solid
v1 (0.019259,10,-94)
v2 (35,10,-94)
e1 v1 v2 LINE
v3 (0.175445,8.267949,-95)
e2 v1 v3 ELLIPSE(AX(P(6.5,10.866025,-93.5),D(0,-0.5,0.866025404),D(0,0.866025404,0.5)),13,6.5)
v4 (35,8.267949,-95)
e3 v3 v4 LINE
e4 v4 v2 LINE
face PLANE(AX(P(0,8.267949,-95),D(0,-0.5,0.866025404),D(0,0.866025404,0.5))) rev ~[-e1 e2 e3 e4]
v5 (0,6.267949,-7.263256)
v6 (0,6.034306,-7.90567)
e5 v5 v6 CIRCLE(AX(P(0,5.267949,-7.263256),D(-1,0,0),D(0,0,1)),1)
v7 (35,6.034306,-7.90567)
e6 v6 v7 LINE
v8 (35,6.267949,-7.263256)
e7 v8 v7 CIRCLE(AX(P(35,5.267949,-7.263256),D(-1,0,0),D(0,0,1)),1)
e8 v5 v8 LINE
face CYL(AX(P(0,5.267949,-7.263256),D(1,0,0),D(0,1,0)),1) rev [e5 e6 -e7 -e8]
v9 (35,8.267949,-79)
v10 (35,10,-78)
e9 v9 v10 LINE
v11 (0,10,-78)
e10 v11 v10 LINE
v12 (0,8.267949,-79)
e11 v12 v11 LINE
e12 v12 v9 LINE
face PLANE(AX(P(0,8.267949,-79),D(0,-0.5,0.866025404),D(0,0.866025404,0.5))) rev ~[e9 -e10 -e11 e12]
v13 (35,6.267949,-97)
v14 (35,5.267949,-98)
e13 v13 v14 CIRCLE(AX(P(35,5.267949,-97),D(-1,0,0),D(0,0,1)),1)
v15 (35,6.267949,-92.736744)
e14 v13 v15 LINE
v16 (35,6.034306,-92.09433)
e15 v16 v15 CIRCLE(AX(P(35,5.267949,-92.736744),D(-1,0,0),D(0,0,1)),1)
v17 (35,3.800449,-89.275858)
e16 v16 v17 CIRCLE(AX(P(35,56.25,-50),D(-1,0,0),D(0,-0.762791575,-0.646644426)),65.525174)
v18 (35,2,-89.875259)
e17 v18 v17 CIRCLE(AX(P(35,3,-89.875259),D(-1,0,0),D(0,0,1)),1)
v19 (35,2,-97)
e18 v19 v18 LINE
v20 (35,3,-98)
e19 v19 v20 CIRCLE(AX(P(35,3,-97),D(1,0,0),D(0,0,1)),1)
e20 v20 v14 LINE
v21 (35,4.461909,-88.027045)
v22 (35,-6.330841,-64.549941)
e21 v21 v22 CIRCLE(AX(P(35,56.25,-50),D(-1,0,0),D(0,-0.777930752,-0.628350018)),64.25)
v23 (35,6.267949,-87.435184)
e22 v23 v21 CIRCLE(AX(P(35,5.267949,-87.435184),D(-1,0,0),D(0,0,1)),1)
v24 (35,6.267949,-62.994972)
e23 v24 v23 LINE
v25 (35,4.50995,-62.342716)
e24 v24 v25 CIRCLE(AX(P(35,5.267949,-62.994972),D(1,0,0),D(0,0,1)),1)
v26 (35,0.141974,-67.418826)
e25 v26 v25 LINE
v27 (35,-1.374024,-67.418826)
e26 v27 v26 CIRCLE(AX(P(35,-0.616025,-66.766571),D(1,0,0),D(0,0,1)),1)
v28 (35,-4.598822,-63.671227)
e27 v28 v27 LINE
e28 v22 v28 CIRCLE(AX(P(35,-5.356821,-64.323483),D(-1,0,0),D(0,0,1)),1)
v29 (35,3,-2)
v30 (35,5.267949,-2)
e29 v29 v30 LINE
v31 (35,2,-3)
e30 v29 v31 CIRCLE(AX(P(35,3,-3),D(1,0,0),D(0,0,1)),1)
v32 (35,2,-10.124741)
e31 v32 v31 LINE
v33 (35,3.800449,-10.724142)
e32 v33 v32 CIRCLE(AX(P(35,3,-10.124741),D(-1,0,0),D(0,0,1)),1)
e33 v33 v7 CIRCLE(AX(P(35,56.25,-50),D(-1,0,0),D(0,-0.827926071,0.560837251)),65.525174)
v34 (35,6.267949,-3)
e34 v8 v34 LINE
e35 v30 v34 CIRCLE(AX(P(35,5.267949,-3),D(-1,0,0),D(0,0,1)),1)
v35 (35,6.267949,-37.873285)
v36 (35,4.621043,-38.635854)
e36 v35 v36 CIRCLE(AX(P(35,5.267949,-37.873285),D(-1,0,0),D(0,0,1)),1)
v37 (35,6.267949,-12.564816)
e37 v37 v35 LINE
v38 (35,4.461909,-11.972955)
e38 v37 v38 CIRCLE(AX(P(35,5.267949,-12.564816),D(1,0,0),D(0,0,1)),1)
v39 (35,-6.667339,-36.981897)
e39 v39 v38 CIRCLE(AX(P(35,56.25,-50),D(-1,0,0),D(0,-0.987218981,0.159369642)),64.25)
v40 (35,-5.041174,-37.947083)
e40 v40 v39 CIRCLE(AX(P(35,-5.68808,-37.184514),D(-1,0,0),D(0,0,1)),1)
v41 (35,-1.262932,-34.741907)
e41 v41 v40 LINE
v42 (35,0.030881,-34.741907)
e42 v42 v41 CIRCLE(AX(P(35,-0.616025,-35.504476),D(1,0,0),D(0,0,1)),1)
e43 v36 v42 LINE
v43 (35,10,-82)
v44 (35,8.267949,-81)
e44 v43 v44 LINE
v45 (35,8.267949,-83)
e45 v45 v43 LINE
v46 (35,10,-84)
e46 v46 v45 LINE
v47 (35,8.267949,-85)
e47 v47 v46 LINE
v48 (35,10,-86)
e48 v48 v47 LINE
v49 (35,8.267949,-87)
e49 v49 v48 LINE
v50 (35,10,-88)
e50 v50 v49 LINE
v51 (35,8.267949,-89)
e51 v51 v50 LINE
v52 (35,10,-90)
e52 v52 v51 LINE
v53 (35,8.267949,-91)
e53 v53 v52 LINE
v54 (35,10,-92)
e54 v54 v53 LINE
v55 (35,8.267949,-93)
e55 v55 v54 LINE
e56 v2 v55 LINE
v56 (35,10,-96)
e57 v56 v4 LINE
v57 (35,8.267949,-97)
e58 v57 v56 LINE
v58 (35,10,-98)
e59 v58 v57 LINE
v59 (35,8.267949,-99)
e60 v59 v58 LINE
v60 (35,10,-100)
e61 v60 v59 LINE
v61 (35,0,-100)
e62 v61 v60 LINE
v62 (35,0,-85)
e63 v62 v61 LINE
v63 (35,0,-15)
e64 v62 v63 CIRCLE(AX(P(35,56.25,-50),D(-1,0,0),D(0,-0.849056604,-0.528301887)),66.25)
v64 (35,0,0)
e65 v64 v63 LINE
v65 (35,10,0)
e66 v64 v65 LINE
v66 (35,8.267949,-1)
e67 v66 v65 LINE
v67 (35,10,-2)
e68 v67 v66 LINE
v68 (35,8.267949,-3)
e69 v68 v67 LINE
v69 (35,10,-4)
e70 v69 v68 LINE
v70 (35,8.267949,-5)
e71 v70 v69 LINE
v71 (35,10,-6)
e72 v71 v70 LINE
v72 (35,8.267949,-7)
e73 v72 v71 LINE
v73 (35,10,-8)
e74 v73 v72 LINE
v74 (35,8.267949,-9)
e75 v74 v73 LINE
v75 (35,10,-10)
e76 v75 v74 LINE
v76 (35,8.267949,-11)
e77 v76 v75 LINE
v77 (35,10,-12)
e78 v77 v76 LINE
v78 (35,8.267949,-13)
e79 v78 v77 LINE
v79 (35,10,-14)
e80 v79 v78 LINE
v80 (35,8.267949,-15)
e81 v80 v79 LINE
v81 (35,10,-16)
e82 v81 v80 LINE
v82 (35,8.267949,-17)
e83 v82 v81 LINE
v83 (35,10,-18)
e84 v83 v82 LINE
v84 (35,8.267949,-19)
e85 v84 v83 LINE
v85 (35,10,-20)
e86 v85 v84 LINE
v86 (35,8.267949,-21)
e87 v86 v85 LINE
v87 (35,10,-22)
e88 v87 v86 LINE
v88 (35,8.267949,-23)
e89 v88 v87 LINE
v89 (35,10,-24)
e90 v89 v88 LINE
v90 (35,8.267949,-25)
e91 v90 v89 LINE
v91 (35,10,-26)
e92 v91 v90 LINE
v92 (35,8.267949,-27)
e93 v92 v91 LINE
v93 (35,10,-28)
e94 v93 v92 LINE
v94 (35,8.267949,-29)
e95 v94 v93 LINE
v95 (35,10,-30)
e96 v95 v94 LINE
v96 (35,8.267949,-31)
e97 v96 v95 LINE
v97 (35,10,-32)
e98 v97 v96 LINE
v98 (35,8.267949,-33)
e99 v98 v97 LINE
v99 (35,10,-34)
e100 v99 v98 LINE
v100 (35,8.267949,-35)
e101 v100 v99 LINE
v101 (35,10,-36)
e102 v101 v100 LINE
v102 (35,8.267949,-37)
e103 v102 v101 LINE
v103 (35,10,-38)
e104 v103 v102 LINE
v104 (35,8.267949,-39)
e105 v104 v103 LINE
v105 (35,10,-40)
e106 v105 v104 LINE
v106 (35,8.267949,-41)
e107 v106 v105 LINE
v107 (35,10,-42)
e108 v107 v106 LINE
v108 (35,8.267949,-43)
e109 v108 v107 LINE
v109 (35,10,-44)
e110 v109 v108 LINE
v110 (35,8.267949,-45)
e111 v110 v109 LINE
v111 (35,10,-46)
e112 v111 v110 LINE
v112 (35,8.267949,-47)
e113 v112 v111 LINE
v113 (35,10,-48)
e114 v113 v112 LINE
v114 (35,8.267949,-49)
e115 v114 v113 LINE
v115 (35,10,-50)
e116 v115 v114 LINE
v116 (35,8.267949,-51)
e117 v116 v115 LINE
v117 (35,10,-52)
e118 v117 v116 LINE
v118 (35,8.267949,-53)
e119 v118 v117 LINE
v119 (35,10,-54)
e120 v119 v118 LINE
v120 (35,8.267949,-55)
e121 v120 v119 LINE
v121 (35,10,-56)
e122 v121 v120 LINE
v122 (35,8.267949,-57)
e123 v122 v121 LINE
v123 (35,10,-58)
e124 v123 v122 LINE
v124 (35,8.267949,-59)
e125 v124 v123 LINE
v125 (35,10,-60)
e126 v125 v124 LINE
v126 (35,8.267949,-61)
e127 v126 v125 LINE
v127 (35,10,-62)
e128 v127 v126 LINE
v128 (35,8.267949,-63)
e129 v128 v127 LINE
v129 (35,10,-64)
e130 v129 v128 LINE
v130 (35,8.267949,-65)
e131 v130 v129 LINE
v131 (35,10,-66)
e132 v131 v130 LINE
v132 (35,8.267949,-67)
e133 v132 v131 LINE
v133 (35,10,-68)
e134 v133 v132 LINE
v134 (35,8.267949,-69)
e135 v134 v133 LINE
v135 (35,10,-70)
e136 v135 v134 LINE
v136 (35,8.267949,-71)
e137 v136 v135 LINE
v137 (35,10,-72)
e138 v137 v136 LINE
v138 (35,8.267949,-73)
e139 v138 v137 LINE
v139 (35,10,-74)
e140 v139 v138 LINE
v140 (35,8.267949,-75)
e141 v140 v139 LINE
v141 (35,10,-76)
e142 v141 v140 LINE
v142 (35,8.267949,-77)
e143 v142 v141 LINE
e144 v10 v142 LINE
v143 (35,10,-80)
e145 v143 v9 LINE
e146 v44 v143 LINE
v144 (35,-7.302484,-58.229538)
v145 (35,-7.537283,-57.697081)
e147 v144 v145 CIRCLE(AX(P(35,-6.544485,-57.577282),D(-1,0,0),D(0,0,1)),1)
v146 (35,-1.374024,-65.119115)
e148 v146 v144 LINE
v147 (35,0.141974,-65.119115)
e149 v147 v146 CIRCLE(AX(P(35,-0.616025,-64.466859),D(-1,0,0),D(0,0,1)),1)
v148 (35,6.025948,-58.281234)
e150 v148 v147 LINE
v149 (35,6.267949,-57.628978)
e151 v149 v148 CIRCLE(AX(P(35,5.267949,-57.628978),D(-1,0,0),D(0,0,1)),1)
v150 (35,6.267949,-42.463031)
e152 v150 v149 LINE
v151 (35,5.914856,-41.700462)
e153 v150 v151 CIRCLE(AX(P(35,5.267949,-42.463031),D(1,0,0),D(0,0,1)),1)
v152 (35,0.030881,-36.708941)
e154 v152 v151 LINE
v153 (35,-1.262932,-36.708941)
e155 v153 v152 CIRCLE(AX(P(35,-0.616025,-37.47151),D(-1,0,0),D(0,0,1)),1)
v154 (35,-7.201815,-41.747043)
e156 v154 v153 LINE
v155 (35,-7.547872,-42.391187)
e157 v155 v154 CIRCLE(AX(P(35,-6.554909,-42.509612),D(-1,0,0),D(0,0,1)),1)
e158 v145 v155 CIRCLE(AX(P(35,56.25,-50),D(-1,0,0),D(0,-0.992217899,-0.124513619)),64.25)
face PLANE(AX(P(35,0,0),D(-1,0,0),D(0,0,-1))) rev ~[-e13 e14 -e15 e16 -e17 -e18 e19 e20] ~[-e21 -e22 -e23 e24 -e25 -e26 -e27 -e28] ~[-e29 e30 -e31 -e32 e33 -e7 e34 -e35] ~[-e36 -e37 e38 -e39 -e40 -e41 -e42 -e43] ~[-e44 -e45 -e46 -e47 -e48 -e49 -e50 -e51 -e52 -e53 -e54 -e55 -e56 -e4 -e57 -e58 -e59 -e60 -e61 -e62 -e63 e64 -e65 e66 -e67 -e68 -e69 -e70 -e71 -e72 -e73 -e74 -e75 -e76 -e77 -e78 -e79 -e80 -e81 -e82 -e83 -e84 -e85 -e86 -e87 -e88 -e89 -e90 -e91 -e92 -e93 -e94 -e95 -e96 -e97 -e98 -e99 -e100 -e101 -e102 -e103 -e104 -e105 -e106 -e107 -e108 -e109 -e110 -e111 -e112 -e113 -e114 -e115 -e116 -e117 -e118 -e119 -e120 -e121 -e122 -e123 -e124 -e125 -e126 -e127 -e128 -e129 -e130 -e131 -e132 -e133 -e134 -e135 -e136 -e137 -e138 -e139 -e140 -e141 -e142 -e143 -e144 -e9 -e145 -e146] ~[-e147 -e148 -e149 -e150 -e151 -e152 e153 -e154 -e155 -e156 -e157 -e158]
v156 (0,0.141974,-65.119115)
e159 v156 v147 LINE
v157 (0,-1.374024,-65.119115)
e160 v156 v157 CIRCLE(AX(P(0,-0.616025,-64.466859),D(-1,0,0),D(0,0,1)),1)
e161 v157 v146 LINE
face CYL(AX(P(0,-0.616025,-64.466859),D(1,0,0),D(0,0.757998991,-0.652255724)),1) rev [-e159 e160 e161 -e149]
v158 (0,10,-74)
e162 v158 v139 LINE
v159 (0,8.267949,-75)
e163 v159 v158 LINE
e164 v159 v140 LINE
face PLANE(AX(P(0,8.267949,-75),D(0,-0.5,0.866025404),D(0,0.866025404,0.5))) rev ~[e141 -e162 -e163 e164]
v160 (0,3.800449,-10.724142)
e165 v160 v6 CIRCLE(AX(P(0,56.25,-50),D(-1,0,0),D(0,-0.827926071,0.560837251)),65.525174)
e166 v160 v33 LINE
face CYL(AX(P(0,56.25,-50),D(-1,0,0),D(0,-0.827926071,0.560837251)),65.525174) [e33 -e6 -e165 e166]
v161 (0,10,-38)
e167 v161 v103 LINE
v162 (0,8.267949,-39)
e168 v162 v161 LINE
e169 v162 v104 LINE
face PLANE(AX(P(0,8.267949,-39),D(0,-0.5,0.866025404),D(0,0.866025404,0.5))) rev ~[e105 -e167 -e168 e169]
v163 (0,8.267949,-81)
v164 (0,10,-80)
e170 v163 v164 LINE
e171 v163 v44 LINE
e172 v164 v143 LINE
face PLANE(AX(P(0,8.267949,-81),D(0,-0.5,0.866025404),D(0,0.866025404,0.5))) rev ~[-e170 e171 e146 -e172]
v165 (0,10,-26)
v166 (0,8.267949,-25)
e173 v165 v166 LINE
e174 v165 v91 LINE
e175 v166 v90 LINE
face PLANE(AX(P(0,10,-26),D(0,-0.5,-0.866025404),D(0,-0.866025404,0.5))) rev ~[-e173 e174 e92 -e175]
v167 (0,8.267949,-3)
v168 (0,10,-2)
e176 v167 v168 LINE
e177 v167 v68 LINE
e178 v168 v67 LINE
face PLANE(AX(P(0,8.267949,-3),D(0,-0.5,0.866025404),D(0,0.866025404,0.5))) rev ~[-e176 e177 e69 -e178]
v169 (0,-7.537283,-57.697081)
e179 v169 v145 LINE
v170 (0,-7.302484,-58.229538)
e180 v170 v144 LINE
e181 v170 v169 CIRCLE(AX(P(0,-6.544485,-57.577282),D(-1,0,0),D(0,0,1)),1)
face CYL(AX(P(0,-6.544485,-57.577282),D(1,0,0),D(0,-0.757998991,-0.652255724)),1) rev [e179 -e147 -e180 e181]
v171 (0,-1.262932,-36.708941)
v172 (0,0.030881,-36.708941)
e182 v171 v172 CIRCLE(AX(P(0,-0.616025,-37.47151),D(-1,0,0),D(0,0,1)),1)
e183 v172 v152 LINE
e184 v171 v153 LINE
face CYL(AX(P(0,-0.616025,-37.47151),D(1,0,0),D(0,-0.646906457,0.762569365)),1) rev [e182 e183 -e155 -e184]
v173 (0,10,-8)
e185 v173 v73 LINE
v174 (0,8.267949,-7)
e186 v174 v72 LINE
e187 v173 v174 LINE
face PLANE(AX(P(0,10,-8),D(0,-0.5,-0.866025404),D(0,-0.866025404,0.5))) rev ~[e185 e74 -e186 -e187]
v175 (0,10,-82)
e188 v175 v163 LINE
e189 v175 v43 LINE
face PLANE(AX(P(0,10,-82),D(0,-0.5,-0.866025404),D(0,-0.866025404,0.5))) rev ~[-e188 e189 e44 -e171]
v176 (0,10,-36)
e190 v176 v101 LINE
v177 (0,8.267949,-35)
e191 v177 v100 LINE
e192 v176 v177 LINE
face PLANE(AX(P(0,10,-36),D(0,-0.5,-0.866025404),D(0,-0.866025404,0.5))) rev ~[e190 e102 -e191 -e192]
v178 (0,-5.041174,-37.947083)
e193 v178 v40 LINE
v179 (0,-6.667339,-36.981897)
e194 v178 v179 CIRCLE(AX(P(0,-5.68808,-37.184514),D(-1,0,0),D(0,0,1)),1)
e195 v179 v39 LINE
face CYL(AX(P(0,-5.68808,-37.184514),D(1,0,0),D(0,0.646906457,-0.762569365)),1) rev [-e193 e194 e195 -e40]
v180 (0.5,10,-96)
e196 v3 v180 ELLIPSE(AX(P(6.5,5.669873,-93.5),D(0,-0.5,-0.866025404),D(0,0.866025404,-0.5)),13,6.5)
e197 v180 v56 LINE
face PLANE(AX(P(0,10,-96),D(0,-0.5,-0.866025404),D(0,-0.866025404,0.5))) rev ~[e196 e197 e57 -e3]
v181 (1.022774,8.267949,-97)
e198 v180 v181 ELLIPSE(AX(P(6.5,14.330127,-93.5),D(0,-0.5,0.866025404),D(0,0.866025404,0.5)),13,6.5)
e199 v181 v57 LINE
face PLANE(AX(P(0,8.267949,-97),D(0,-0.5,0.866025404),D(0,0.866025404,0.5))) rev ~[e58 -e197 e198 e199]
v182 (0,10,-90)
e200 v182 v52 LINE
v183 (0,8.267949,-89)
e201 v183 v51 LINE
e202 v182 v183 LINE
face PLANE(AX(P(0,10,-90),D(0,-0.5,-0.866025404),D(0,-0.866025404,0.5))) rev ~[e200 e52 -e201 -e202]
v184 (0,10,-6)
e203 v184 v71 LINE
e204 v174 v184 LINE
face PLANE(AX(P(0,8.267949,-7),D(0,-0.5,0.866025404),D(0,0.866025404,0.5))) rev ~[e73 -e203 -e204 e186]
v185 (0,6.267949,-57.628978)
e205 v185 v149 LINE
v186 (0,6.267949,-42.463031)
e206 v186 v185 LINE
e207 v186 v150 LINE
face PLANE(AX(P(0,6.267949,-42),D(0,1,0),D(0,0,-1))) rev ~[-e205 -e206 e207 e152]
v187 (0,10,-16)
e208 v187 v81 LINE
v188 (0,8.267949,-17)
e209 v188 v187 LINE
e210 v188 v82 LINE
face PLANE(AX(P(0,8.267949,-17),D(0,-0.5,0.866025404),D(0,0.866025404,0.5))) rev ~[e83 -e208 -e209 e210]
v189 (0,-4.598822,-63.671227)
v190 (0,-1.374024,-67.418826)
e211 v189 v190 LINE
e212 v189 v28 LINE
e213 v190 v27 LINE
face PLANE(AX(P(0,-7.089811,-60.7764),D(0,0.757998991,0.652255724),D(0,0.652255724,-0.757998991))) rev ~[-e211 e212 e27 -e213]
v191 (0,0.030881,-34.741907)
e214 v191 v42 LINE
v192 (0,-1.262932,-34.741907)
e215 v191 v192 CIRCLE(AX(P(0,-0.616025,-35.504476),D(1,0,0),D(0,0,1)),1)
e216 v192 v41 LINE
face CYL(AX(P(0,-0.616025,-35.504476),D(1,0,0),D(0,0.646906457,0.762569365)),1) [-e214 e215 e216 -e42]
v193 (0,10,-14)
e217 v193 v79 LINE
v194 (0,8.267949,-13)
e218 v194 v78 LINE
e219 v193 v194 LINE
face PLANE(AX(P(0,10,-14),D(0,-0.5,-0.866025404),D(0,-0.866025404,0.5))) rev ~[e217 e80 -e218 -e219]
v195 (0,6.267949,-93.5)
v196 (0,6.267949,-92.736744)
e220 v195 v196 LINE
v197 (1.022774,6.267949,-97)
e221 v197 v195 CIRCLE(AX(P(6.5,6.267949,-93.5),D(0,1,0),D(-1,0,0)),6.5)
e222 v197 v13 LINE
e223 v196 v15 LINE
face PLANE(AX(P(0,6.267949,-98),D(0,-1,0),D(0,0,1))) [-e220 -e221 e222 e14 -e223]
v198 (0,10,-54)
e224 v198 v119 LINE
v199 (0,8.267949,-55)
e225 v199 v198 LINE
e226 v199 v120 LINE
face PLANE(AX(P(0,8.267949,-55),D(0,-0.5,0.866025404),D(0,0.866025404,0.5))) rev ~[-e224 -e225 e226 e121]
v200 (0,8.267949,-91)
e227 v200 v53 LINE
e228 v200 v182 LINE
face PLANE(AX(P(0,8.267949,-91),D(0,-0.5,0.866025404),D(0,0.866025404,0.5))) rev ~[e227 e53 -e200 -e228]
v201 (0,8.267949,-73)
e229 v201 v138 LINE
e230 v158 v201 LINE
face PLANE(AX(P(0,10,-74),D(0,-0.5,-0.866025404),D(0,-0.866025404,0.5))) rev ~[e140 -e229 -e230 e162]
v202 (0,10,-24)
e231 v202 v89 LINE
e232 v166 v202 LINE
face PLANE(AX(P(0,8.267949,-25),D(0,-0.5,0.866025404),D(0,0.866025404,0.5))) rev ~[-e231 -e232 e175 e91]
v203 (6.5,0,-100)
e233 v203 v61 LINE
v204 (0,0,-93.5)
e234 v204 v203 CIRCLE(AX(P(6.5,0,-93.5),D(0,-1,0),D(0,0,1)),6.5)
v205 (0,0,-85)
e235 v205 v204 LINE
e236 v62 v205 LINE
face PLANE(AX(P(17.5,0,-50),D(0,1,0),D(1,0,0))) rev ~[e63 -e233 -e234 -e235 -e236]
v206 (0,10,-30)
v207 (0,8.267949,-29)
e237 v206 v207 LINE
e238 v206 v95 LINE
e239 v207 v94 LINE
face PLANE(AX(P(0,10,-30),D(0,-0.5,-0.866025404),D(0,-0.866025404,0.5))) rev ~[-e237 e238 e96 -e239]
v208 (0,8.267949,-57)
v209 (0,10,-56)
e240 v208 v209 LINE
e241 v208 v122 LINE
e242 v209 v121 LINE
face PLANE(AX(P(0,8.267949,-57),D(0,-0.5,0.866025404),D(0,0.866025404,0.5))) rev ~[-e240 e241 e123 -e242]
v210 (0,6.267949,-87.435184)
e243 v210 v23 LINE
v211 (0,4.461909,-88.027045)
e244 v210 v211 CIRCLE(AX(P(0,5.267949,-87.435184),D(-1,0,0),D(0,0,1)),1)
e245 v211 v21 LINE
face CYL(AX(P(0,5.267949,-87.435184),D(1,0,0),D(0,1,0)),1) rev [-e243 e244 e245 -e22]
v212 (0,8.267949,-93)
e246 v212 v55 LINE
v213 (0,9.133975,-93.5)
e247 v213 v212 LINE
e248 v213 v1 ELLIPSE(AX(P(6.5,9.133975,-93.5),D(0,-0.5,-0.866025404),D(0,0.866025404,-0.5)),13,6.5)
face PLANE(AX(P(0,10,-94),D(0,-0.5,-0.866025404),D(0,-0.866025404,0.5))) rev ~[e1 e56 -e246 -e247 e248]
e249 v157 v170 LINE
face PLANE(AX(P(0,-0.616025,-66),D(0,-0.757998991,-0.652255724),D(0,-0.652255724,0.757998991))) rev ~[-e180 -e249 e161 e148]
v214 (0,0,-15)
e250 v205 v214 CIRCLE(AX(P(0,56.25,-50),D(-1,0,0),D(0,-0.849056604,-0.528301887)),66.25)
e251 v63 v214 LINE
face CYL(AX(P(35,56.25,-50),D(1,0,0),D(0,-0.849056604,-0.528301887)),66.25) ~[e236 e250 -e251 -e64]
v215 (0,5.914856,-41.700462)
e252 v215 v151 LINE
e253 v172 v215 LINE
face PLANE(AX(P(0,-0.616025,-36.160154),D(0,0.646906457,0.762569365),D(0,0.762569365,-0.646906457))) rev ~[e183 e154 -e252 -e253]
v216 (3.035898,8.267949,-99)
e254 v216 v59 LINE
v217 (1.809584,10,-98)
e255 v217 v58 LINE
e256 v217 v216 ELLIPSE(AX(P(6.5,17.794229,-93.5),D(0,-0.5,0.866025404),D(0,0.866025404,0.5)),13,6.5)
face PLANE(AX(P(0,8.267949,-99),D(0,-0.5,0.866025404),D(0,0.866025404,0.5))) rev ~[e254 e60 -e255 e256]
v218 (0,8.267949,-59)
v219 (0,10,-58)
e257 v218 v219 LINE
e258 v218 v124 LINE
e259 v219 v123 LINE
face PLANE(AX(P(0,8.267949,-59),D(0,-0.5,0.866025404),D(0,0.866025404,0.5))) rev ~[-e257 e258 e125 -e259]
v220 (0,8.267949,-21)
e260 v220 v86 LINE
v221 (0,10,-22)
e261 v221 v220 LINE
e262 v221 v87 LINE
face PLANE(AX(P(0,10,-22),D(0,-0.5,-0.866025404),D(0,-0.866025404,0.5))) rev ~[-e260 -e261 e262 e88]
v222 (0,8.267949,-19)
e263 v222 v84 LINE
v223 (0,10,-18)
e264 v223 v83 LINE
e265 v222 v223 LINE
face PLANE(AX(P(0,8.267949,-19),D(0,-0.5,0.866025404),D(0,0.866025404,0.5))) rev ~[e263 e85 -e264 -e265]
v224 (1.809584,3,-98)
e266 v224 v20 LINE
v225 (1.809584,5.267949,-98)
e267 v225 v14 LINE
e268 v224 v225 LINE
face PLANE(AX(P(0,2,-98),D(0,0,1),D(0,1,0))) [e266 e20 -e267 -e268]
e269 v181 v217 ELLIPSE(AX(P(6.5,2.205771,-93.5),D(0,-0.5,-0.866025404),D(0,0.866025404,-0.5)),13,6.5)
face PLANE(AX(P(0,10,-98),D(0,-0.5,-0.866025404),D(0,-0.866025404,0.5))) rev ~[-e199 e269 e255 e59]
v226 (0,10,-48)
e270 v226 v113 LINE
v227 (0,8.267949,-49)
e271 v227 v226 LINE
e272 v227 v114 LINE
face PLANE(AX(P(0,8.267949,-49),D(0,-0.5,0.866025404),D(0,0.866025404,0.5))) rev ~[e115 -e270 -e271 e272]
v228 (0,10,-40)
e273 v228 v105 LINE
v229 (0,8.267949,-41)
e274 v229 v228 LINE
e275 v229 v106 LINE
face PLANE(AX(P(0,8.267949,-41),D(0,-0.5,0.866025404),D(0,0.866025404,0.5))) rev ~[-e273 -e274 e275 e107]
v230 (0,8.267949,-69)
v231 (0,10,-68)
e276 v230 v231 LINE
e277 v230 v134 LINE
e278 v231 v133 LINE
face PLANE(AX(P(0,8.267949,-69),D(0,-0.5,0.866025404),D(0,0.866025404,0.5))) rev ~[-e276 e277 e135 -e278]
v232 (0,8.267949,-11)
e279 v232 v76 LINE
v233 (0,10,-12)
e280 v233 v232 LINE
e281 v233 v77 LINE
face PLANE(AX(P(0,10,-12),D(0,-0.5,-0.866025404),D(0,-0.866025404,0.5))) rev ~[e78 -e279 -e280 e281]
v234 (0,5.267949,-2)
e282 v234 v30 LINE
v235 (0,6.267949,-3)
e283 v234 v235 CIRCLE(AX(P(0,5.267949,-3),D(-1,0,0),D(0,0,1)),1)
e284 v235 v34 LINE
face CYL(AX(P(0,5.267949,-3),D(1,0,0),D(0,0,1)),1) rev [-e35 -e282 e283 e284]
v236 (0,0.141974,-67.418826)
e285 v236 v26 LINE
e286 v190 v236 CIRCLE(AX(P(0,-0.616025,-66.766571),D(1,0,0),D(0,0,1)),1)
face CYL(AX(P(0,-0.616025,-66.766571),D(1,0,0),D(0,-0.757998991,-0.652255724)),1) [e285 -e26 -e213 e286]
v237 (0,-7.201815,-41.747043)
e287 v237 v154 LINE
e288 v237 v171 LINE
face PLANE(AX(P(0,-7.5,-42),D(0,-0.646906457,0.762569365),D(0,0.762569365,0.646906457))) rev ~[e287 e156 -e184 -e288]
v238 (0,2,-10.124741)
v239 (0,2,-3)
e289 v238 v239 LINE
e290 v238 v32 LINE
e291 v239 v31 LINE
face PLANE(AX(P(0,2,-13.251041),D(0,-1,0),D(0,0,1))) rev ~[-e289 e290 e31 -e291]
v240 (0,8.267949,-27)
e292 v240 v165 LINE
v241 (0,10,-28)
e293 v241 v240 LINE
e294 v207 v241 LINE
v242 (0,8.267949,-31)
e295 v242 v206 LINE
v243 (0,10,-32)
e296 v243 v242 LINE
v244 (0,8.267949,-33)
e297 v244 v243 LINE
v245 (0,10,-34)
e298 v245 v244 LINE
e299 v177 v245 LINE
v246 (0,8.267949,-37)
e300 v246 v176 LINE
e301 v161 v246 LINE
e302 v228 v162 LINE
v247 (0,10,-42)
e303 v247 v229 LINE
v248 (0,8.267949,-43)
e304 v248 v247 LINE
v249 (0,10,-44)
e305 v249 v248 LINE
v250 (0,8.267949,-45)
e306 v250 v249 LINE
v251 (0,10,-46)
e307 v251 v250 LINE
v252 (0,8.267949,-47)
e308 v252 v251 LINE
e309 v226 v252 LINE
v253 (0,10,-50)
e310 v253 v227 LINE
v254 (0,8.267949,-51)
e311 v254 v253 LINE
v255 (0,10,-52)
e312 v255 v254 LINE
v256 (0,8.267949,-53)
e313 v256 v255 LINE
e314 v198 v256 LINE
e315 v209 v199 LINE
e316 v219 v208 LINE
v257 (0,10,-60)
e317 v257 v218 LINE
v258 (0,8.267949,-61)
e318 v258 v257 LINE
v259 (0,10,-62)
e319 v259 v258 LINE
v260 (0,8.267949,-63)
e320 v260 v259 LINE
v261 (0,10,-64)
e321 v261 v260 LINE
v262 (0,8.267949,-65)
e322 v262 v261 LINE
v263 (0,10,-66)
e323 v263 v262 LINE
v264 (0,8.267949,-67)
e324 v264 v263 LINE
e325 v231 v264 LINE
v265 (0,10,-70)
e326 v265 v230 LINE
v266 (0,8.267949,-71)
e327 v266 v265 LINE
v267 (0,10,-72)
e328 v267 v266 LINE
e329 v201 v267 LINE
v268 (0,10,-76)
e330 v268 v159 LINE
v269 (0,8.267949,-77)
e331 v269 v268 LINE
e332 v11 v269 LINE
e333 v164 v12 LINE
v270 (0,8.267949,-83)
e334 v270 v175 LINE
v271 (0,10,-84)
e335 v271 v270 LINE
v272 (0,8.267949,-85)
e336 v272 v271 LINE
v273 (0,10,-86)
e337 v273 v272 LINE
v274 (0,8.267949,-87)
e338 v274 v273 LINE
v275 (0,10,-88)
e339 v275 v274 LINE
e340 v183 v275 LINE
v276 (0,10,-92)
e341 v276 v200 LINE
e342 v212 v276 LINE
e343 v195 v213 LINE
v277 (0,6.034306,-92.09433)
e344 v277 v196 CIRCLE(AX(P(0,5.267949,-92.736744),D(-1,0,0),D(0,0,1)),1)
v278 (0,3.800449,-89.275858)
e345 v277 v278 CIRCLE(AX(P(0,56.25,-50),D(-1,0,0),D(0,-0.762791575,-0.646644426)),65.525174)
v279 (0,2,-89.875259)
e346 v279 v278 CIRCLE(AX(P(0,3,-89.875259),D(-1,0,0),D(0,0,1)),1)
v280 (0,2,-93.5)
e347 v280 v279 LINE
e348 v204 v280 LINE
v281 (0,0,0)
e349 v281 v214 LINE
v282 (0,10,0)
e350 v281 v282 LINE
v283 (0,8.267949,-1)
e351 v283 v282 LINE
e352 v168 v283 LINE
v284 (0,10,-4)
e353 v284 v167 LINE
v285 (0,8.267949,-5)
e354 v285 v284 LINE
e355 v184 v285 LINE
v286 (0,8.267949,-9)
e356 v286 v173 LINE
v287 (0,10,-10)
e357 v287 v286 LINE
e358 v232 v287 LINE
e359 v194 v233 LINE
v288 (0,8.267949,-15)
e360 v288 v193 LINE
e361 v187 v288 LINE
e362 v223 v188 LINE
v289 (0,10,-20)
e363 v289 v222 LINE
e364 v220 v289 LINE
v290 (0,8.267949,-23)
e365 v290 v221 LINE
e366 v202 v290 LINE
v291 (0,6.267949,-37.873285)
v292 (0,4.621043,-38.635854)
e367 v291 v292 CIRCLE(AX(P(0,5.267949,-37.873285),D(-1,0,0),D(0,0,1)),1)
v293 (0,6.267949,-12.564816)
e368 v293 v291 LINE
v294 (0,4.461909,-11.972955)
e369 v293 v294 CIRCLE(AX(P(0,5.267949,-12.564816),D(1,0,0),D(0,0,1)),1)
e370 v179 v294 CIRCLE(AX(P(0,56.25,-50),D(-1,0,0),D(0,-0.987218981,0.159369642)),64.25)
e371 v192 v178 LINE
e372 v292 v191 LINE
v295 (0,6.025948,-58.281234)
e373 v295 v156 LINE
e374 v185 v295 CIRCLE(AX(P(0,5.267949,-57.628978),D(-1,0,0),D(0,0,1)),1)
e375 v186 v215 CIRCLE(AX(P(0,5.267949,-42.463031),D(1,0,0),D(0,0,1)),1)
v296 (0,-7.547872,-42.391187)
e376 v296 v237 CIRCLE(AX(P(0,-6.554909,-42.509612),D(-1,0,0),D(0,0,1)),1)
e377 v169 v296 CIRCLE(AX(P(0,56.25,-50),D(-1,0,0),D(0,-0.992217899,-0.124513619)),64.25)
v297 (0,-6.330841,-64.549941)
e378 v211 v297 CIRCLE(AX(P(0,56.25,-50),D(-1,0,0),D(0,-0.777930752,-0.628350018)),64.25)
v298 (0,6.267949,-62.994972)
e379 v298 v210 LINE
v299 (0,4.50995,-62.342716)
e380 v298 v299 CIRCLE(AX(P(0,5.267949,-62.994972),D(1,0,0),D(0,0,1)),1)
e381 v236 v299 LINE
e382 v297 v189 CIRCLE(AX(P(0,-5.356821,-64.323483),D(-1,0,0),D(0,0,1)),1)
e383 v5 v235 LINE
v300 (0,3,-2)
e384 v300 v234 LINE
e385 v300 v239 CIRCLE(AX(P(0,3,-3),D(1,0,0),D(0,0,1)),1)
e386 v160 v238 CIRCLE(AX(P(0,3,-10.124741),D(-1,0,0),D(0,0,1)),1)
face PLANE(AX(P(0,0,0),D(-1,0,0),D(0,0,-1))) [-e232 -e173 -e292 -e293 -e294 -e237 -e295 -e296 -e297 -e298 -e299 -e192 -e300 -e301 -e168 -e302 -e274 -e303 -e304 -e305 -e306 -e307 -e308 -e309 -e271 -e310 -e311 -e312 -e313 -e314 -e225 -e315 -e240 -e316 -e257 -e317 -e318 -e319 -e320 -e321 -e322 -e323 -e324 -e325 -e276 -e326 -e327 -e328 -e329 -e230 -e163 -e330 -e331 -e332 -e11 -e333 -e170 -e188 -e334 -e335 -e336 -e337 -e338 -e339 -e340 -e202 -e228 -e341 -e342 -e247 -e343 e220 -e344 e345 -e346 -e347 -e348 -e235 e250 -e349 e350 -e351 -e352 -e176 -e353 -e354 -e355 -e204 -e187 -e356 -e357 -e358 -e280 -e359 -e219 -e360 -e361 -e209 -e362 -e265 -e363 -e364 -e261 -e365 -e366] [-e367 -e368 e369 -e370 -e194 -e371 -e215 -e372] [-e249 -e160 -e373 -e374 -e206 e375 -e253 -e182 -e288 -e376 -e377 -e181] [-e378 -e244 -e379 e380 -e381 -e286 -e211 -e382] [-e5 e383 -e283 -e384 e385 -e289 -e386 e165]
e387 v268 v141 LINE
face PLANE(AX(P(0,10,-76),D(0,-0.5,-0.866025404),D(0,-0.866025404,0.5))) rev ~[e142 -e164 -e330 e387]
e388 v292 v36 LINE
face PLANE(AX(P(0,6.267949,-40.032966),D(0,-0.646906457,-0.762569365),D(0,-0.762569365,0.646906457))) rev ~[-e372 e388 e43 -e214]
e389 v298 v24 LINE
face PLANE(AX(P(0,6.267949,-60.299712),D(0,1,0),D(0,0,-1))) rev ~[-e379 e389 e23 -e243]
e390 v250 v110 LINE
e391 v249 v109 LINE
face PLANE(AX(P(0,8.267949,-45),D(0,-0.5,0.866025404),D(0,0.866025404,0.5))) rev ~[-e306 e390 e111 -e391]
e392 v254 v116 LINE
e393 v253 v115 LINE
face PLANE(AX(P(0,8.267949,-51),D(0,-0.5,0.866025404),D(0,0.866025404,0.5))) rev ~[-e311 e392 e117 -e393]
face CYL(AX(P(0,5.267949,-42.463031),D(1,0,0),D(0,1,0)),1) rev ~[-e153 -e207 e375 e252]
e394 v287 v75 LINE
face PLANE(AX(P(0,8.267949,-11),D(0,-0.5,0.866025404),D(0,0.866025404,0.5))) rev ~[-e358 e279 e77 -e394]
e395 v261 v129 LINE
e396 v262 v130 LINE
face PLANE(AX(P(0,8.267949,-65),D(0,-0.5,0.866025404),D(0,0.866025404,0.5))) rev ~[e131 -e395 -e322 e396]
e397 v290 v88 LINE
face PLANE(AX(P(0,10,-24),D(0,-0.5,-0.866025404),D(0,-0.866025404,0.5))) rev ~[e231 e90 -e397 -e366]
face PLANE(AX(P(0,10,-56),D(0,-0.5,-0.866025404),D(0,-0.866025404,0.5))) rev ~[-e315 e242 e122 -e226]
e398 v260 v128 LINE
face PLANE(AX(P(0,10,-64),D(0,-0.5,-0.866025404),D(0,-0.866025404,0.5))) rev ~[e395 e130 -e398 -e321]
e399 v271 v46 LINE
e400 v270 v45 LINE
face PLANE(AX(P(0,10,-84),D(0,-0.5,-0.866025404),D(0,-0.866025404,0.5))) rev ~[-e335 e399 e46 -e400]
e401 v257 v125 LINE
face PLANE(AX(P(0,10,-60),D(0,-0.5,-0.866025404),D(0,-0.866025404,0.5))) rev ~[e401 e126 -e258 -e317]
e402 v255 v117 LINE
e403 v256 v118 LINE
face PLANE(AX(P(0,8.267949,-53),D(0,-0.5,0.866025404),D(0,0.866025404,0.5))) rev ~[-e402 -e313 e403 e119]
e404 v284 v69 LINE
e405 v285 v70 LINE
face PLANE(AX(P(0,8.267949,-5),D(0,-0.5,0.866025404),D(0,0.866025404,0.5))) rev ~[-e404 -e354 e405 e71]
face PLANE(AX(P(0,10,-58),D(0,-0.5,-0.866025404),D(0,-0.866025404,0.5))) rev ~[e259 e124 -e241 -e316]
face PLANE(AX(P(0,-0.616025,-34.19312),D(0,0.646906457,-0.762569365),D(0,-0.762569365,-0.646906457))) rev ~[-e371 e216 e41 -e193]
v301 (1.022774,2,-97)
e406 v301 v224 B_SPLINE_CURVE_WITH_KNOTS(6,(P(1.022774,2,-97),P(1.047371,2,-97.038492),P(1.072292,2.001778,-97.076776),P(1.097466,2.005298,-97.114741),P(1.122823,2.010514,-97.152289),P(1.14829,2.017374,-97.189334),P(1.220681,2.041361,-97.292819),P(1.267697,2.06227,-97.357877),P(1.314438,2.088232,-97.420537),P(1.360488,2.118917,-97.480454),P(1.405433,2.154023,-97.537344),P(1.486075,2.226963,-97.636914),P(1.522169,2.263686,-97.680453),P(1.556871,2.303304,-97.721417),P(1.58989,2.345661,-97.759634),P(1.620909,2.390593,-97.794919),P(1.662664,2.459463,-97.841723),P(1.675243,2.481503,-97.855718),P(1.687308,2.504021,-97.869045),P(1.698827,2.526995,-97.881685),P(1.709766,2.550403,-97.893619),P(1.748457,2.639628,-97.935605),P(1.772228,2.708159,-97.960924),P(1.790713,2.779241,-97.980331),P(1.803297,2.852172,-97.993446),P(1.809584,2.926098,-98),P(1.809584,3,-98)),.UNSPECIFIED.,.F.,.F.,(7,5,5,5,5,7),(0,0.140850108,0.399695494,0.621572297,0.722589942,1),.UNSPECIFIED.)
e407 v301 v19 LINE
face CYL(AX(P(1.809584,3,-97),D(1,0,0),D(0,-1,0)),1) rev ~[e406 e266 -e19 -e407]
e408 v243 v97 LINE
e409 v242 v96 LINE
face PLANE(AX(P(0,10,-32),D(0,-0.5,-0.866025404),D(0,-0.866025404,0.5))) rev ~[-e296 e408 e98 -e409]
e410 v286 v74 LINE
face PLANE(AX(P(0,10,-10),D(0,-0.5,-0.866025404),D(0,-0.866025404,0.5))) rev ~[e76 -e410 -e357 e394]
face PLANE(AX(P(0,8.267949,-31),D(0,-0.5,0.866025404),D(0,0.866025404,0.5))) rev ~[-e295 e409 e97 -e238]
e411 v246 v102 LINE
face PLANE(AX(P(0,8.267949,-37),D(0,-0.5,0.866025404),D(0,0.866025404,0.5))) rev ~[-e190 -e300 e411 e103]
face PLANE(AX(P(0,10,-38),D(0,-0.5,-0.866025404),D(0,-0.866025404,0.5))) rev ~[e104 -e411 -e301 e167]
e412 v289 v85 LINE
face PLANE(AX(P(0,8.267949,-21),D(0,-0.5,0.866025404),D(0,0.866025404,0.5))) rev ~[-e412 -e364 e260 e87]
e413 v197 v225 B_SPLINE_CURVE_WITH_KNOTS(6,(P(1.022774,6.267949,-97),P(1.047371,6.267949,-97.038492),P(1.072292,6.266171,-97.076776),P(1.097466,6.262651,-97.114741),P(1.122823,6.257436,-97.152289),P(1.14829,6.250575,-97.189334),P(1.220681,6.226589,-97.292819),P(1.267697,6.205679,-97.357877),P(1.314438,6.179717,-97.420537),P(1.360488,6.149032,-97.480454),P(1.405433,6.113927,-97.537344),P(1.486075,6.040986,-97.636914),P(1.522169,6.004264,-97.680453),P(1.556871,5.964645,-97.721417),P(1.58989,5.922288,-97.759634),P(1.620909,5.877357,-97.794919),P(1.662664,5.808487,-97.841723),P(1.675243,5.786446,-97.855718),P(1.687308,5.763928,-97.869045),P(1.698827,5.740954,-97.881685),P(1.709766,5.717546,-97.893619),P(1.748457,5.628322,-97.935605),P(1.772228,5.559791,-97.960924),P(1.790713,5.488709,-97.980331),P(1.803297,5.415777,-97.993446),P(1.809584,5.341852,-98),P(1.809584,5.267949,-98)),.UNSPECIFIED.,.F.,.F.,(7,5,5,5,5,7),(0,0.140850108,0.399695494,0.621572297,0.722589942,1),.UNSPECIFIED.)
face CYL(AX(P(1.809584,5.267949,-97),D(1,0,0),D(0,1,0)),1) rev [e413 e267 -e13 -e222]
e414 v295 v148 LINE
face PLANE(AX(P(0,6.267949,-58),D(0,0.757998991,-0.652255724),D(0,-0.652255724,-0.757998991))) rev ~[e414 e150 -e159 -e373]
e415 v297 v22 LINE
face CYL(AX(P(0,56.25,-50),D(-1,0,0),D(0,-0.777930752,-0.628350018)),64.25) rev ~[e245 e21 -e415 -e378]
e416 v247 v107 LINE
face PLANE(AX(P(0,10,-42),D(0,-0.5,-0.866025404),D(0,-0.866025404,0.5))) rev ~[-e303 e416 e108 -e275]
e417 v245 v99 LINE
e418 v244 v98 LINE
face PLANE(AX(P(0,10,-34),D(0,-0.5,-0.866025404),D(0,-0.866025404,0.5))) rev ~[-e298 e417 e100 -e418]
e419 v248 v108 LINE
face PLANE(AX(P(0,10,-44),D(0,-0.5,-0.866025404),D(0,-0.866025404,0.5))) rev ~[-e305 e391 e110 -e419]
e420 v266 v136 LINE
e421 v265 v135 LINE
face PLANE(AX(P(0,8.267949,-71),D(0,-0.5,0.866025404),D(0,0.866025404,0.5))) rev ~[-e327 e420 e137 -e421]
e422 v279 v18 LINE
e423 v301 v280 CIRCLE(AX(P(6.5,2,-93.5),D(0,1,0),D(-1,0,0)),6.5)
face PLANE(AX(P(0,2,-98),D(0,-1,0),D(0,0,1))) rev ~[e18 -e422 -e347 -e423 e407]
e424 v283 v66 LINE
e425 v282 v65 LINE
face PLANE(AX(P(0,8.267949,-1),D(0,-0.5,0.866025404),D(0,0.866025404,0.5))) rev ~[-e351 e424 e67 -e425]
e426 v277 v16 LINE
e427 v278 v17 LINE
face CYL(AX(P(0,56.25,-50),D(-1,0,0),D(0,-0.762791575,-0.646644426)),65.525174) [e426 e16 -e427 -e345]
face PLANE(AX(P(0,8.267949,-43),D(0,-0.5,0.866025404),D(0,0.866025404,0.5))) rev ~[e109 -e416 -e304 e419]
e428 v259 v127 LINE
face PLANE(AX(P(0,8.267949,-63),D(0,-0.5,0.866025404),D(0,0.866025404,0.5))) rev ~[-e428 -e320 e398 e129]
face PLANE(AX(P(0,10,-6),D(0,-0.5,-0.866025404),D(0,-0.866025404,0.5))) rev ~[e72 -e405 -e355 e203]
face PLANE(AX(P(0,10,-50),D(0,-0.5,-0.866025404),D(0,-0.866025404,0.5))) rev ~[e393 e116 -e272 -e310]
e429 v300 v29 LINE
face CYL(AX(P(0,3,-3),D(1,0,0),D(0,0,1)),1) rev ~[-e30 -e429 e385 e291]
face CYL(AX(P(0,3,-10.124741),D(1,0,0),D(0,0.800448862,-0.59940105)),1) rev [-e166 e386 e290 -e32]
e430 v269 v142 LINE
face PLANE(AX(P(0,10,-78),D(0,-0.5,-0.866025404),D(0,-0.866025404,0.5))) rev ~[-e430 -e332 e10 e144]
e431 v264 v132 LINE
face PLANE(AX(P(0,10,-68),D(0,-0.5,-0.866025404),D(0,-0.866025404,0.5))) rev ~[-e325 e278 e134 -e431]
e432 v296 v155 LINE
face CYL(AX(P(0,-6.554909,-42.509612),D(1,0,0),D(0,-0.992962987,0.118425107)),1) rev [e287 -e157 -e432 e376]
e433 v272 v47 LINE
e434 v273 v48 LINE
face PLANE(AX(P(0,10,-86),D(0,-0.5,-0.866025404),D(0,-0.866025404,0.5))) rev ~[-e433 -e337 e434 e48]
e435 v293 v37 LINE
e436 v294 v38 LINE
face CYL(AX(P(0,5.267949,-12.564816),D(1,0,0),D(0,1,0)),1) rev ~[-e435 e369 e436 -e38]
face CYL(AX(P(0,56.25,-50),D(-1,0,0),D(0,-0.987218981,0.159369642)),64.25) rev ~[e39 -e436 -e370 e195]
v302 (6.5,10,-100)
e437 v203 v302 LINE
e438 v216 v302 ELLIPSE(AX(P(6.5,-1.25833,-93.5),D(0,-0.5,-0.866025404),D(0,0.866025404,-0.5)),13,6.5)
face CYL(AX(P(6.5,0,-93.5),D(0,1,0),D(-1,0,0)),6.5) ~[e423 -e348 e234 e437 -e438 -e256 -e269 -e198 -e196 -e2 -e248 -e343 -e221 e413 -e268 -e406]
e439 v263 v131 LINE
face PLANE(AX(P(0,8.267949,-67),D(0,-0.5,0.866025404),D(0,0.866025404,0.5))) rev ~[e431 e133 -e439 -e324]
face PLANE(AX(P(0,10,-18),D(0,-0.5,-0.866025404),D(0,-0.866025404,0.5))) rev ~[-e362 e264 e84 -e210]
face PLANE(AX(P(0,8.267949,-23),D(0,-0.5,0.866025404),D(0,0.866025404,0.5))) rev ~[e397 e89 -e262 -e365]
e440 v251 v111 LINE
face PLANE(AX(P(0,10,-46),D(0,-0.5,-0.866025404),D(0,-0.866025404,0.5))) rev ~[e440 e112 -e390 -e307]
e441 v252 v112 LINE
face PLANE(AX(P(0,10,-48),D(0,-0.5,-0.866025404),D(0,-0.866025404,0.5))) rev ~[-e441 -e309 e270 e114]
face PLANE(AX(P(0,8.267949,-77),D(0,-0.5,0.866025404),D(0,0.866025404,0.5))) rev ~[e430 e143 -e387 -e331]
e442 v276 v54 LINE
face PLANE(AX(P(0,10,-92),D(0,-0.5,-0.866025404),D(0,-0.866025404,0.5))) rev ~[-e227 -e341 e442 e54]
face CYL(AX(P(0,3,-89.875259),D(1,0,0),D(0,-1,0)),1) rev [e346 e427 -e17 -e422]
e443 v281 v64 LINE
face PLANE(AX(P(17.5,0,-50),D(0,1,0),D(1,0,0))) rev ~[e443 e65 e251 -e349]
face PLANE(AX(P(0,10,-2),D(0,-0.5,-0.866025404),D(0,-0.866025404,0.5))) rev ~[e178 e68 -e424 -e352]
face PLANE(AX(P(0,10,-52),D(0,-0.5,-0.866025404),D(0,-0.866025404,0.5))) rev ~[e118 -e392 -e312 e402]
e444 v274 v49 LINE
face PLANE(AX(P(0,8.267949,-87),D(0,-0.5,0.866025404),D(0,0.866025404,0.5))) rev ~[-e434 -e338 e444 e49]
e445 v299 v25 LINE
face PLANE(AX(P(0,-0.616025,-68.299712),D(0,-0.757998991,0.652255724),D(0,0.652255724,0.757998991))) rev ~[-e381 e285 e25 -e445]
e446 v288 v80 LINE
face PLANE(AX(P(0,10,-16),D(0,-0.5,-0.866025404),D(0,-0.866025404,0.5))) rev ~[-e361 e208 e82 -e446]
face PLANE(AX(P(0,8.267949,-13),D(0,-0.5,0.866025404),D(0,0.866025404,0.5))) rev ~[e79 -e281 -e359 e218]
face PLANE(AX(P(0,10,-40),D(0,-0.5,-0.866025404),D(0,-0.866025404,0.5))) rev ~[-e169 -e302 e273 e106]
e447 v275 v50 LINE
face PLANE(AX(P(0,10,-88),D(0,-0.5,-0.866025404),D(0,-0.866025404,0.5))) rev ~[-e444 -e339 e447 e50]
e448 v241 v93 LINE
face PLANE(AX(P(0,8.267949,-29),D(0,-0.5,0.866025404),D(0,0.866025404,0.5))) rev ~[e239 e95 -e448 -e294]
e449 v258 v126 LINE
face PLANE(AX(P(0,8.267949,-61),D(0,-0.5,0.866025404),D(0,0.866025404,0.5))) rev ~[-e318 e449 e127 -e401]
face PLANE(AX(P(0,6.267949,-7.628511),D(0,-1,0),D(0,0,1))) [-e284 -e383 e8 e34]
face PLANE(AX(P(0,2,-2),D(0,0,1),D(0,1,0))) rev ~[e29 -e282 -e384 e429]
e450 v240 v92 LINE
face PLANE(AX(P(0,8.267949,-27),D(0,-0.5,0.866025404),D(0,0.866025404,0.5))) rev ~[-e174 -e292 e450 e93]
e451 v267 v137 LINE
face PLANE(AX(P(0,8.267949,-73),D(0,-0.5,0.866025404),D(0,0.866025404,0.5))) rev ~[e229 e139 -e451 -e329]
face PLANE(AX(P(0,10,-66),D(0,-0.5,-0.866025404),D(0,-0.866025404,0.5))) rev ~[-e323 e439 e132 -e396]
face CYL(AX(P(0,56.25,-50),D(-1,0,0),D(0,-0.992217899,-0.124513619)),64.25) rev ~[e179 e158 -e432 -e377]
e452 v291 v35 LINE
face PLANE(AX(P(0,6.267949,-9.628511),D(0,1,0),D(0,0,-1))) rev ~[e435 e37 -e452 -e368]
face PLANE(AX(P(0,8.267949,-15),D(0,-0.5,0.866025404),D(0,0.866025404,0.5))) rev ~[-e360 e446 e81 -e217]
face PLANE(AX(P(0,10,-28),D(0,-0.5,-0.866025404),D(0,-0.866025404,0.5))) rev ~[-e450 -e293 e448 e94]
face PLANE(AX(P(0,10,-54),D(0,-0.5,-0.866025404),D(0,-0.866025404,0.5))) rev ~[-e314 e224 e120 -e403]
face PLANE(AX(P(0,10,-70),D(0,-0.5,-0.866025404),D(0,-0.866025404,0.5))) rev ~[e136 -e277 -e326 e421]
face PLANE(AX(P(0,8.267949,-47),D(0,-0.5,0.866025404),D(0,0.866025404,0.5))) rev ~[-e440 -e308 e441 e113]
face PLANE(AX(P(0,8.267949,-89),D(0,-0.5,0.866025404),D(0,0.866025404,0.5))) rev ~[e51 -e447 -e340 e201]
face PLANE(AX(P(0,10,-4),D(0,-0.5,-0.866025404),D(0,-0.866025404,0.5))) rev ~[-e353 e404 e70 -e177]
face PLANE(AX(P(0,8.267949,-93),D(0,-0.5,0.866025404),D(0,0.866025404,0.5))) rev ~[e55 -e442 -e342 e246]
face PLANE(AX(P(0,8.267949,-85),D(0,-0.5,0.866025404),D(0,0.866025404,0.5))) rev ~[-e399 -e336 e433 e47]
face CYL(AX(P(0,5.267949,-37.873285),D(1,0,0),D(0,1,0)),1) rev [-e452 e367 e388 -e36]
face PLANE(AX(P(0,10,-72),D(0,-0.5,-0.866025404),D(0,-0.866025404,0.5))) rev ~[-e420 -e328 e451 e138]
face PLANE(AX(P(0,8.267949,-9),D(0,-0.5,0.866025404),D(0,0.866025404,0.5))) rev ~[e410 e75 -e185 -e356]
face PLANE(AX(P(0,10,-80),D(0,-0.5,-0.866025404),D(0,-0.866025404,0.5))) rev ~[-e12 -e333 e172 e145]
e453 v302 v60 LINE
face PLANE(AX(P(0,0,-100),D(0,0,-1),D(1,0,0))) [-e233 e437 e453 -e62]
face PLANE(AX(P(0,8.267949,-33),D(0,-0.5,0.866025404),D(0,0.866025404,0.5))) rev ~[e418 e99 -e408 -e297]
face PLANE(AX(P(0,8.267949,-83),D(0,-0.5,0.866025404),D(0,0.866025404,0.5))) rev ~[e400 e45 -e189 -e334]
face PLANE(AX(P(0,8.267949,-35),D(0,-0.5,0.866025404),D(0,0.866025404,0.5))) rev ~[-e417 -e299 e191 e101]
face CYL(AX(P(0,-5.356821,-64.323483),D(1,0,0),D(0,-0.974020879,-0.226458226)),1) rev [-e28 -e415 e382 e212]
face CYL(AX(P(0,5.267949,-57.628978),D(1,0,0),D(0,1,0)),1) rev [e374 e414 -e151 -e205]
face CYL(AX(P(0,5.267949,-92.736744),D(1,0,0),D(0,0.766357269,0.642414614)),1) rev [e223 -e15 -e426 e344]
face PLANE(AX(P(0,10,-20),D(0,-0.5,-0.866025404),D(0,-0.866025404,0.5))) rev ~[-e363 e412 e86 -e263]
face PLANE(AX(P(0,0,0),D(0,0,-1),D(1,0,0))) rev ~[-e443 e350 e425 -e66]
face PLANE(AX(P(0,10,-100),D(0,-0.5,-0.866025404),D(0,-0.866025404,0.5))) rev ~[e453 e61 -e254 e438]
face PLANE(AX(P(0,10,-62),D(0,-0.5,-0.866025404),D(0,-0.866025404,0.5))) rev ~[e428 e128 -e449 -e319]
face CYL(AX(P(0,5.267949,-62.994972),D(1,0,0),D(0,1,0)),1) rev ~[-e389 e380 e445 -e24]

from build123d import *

# Parameters (mm, degrees)
SKETCH1_W           = 35
SKETCH1_H           = 100
BOSS_EXTRUDE1_DEPTH = 10
CUT_EXTRUDE1_DEPTH  = 107.418983269
LPATTERN1_COUNT     = 50
LPATTERN1_PITCH     = 2
BOSS_EXTRUDE2_DEPTH = 35
FILLET1_R           = 6.5
SKETCH5_W           = 5.628511334
SKETCH5_H           = 4.267949192
CUT_EXTRUDE2_DEPTH  = 107.418983269
FILLET2_R           = 1


with BuildPart() as part:
    # Sketch1 → Boss-Extrude1 (new body)
    with BuildSketch(Plane(origin=(0, 0, 0), x_dir=(1, 0, 0), z_dir=(0, 1, 0))):
        with Locations((17.5, 50)):
            Rectangle(SKETCH1_W, SKETCH1_H)
    extrude(amount=BOSS_EXTRUDE1_DEPTH)

    # Sketch3 → Cut-Extrude1 (cut, through all)
    with BuildSketch(Plane.ZY):
        Polygon((-100, 10), (-99, 8.267949192), (-98, 10), align=None)
    cut_extrude1 = extrude(amount=-CUT_EXTRUDE1_DEPTH, mode=Mode.SUBTRACT)

    # LPattern1: Cut-Extrude1 ×50
    with Locations(*[(0, 0, i * LPATTERN1_PITCH) for i in range(1, LPATTERN1_COUNT)]):
        add(cut_extrude1, mode=Mode.SUBTRACT)

    # Sketch4 → Boss-Extrude2 (add)
    with BuildSketch(Plane(origin=(35, 0, 0), x_dir=(0, 0, -1), z_dir=(1, 0, 0))):
        with BuildLine():
            Line((15, 0), (85, 0))
            ThreePointArc((85, 0), (50, -10), (15, 0))
        make_face()
    extrude(amount=-BOSS_EXTRUDE2_DEPTH)

    # Fillet1
    fillet1_edges = [part.edges().sort_by_distance(p)[0] for p in [
        (0, 5, -100),
    ]]
    fillet(fillet1_edges, radius=FILLET1_R)

    # Sketch5 → Cut-Extrude2 (cut, through all)
    with BuildSketch(Plane.ZY):
        with Locations((-95.185744333, 4.133974596)):
            Rectangle(SKETCH5_W, SKETCH5_H)
        with BuildLine():
            ThreePointArc((-92.371488666, 6.267949192), (-89.617737689, 4.058206439), (-86.748958552, 2))
            Line((-86.748958552, 2), (-92.371488666, 2))
            Line((-92.371488666, 2), (-92.371488666, 6.267949192))
        make_face()
        with BuildLine():
            Line((-60.299711515, 6.267949192), (-90.371488666, 6.267949192))
            ThreePointArc((-90.371488666, 6.267949192), (-76.431686672, -2.311322045), (-60.776399584, -7.08981143))
            Line((-60.776399584, -7.08981143), (-68.299711515, -0.616025404))
            Line((-68.299711515, -0.616025404), (-60.299711515, 6.267949192))
        make_face()
        with BuildLine():
            Line((-42, 6.267949192), (-58, 6.267949192))
            Line((-58, 6.267949192), (-66, -0.616025404))
            Line((-66, -0.616025404), (-58, -7.5))
            ThreePointArc((-58, -7.5), (-50, -8), (-42, -7.5))
            Line((-42, -7.5), (-36.160154055, -0.616025404))
            Line((-36.160154055, -0.616025404), (-42, 6.267949192))
        make_face()
        with BuildLine():
            Line((-9.628511334, 6.267949192), (-40.032965827, 6.267949192))
            Line((-40.032965827, 6.267949192), (-34.193119883, -0.616025404))
            Line((-34.193119883, -0.616025404), (-39.760500511, -7.178819556))
            ThreePointArc((-39.760500511, -7.178819556), (-23.816571501, -2.422741303), (-9.628511334, 6.267949192))
        make_face()
        with Locations((-4.814255667, 4.133974596)):
            Rectangle(SKETCH5_W, SKETCH5_H)
        with BuildLine():
            Line((-7.628511334, 6.267949192), (-7.628511334, 2))
            Line((-7.628511334, 2), (-13.251041448, 2))
            ThreePointArc((-13.251041448, 2), (-10.382262311, 4.058206439), (-7.628511334, 6.267949192))
        make_face()
    extrude(amount=-CUT_EXTRUDE2_DEPTH, mode=Mode.SUBTRACT)

    # Fillet2
    fillet2_edges = [part.edges().sort_by_distance(p)[0] for p in [
        (17.5, -7.5, -58),
        (17.5, -0.616025404, -66),
        (17.5, 6.267949192, -58),
        (17.5, 6.267949192, -42),
        (17.5, -0.616025404, -36.160154055),
        (17.5, -7.5, -42),
        (17.5, 6.267949192, -90.371488666),
        (17.5, 6.267949192, -60.299711515),
        (17.5, -0.616025404, -68.299711515),
        (17.5, -7.08981143, -60.776399584),
        (17.5, 6.267949192, -7.628511334),
        (17.5, 6.267949192, -2),
        (17.5, 2, -2),
        (17.5, 2, -13.251041448),
        (17.5, -7.178819556, -39.760500511),
        (17.5, -0.616025404, -34.193119883),
        (17.5, 6.267949192, -40.032965827),
        (17.5, 6.267949192, -9.628511334),
        (17.5, 2, -86.748958552),
        (18.40479212, 2, -98),
        (18.40479212, 6.267949192, -98),
        (17.5, 6.267949192, -92.371488666),
    ]]
    fillet(fillet2_edges, radius=FILLET2_R)


solid = part.part
